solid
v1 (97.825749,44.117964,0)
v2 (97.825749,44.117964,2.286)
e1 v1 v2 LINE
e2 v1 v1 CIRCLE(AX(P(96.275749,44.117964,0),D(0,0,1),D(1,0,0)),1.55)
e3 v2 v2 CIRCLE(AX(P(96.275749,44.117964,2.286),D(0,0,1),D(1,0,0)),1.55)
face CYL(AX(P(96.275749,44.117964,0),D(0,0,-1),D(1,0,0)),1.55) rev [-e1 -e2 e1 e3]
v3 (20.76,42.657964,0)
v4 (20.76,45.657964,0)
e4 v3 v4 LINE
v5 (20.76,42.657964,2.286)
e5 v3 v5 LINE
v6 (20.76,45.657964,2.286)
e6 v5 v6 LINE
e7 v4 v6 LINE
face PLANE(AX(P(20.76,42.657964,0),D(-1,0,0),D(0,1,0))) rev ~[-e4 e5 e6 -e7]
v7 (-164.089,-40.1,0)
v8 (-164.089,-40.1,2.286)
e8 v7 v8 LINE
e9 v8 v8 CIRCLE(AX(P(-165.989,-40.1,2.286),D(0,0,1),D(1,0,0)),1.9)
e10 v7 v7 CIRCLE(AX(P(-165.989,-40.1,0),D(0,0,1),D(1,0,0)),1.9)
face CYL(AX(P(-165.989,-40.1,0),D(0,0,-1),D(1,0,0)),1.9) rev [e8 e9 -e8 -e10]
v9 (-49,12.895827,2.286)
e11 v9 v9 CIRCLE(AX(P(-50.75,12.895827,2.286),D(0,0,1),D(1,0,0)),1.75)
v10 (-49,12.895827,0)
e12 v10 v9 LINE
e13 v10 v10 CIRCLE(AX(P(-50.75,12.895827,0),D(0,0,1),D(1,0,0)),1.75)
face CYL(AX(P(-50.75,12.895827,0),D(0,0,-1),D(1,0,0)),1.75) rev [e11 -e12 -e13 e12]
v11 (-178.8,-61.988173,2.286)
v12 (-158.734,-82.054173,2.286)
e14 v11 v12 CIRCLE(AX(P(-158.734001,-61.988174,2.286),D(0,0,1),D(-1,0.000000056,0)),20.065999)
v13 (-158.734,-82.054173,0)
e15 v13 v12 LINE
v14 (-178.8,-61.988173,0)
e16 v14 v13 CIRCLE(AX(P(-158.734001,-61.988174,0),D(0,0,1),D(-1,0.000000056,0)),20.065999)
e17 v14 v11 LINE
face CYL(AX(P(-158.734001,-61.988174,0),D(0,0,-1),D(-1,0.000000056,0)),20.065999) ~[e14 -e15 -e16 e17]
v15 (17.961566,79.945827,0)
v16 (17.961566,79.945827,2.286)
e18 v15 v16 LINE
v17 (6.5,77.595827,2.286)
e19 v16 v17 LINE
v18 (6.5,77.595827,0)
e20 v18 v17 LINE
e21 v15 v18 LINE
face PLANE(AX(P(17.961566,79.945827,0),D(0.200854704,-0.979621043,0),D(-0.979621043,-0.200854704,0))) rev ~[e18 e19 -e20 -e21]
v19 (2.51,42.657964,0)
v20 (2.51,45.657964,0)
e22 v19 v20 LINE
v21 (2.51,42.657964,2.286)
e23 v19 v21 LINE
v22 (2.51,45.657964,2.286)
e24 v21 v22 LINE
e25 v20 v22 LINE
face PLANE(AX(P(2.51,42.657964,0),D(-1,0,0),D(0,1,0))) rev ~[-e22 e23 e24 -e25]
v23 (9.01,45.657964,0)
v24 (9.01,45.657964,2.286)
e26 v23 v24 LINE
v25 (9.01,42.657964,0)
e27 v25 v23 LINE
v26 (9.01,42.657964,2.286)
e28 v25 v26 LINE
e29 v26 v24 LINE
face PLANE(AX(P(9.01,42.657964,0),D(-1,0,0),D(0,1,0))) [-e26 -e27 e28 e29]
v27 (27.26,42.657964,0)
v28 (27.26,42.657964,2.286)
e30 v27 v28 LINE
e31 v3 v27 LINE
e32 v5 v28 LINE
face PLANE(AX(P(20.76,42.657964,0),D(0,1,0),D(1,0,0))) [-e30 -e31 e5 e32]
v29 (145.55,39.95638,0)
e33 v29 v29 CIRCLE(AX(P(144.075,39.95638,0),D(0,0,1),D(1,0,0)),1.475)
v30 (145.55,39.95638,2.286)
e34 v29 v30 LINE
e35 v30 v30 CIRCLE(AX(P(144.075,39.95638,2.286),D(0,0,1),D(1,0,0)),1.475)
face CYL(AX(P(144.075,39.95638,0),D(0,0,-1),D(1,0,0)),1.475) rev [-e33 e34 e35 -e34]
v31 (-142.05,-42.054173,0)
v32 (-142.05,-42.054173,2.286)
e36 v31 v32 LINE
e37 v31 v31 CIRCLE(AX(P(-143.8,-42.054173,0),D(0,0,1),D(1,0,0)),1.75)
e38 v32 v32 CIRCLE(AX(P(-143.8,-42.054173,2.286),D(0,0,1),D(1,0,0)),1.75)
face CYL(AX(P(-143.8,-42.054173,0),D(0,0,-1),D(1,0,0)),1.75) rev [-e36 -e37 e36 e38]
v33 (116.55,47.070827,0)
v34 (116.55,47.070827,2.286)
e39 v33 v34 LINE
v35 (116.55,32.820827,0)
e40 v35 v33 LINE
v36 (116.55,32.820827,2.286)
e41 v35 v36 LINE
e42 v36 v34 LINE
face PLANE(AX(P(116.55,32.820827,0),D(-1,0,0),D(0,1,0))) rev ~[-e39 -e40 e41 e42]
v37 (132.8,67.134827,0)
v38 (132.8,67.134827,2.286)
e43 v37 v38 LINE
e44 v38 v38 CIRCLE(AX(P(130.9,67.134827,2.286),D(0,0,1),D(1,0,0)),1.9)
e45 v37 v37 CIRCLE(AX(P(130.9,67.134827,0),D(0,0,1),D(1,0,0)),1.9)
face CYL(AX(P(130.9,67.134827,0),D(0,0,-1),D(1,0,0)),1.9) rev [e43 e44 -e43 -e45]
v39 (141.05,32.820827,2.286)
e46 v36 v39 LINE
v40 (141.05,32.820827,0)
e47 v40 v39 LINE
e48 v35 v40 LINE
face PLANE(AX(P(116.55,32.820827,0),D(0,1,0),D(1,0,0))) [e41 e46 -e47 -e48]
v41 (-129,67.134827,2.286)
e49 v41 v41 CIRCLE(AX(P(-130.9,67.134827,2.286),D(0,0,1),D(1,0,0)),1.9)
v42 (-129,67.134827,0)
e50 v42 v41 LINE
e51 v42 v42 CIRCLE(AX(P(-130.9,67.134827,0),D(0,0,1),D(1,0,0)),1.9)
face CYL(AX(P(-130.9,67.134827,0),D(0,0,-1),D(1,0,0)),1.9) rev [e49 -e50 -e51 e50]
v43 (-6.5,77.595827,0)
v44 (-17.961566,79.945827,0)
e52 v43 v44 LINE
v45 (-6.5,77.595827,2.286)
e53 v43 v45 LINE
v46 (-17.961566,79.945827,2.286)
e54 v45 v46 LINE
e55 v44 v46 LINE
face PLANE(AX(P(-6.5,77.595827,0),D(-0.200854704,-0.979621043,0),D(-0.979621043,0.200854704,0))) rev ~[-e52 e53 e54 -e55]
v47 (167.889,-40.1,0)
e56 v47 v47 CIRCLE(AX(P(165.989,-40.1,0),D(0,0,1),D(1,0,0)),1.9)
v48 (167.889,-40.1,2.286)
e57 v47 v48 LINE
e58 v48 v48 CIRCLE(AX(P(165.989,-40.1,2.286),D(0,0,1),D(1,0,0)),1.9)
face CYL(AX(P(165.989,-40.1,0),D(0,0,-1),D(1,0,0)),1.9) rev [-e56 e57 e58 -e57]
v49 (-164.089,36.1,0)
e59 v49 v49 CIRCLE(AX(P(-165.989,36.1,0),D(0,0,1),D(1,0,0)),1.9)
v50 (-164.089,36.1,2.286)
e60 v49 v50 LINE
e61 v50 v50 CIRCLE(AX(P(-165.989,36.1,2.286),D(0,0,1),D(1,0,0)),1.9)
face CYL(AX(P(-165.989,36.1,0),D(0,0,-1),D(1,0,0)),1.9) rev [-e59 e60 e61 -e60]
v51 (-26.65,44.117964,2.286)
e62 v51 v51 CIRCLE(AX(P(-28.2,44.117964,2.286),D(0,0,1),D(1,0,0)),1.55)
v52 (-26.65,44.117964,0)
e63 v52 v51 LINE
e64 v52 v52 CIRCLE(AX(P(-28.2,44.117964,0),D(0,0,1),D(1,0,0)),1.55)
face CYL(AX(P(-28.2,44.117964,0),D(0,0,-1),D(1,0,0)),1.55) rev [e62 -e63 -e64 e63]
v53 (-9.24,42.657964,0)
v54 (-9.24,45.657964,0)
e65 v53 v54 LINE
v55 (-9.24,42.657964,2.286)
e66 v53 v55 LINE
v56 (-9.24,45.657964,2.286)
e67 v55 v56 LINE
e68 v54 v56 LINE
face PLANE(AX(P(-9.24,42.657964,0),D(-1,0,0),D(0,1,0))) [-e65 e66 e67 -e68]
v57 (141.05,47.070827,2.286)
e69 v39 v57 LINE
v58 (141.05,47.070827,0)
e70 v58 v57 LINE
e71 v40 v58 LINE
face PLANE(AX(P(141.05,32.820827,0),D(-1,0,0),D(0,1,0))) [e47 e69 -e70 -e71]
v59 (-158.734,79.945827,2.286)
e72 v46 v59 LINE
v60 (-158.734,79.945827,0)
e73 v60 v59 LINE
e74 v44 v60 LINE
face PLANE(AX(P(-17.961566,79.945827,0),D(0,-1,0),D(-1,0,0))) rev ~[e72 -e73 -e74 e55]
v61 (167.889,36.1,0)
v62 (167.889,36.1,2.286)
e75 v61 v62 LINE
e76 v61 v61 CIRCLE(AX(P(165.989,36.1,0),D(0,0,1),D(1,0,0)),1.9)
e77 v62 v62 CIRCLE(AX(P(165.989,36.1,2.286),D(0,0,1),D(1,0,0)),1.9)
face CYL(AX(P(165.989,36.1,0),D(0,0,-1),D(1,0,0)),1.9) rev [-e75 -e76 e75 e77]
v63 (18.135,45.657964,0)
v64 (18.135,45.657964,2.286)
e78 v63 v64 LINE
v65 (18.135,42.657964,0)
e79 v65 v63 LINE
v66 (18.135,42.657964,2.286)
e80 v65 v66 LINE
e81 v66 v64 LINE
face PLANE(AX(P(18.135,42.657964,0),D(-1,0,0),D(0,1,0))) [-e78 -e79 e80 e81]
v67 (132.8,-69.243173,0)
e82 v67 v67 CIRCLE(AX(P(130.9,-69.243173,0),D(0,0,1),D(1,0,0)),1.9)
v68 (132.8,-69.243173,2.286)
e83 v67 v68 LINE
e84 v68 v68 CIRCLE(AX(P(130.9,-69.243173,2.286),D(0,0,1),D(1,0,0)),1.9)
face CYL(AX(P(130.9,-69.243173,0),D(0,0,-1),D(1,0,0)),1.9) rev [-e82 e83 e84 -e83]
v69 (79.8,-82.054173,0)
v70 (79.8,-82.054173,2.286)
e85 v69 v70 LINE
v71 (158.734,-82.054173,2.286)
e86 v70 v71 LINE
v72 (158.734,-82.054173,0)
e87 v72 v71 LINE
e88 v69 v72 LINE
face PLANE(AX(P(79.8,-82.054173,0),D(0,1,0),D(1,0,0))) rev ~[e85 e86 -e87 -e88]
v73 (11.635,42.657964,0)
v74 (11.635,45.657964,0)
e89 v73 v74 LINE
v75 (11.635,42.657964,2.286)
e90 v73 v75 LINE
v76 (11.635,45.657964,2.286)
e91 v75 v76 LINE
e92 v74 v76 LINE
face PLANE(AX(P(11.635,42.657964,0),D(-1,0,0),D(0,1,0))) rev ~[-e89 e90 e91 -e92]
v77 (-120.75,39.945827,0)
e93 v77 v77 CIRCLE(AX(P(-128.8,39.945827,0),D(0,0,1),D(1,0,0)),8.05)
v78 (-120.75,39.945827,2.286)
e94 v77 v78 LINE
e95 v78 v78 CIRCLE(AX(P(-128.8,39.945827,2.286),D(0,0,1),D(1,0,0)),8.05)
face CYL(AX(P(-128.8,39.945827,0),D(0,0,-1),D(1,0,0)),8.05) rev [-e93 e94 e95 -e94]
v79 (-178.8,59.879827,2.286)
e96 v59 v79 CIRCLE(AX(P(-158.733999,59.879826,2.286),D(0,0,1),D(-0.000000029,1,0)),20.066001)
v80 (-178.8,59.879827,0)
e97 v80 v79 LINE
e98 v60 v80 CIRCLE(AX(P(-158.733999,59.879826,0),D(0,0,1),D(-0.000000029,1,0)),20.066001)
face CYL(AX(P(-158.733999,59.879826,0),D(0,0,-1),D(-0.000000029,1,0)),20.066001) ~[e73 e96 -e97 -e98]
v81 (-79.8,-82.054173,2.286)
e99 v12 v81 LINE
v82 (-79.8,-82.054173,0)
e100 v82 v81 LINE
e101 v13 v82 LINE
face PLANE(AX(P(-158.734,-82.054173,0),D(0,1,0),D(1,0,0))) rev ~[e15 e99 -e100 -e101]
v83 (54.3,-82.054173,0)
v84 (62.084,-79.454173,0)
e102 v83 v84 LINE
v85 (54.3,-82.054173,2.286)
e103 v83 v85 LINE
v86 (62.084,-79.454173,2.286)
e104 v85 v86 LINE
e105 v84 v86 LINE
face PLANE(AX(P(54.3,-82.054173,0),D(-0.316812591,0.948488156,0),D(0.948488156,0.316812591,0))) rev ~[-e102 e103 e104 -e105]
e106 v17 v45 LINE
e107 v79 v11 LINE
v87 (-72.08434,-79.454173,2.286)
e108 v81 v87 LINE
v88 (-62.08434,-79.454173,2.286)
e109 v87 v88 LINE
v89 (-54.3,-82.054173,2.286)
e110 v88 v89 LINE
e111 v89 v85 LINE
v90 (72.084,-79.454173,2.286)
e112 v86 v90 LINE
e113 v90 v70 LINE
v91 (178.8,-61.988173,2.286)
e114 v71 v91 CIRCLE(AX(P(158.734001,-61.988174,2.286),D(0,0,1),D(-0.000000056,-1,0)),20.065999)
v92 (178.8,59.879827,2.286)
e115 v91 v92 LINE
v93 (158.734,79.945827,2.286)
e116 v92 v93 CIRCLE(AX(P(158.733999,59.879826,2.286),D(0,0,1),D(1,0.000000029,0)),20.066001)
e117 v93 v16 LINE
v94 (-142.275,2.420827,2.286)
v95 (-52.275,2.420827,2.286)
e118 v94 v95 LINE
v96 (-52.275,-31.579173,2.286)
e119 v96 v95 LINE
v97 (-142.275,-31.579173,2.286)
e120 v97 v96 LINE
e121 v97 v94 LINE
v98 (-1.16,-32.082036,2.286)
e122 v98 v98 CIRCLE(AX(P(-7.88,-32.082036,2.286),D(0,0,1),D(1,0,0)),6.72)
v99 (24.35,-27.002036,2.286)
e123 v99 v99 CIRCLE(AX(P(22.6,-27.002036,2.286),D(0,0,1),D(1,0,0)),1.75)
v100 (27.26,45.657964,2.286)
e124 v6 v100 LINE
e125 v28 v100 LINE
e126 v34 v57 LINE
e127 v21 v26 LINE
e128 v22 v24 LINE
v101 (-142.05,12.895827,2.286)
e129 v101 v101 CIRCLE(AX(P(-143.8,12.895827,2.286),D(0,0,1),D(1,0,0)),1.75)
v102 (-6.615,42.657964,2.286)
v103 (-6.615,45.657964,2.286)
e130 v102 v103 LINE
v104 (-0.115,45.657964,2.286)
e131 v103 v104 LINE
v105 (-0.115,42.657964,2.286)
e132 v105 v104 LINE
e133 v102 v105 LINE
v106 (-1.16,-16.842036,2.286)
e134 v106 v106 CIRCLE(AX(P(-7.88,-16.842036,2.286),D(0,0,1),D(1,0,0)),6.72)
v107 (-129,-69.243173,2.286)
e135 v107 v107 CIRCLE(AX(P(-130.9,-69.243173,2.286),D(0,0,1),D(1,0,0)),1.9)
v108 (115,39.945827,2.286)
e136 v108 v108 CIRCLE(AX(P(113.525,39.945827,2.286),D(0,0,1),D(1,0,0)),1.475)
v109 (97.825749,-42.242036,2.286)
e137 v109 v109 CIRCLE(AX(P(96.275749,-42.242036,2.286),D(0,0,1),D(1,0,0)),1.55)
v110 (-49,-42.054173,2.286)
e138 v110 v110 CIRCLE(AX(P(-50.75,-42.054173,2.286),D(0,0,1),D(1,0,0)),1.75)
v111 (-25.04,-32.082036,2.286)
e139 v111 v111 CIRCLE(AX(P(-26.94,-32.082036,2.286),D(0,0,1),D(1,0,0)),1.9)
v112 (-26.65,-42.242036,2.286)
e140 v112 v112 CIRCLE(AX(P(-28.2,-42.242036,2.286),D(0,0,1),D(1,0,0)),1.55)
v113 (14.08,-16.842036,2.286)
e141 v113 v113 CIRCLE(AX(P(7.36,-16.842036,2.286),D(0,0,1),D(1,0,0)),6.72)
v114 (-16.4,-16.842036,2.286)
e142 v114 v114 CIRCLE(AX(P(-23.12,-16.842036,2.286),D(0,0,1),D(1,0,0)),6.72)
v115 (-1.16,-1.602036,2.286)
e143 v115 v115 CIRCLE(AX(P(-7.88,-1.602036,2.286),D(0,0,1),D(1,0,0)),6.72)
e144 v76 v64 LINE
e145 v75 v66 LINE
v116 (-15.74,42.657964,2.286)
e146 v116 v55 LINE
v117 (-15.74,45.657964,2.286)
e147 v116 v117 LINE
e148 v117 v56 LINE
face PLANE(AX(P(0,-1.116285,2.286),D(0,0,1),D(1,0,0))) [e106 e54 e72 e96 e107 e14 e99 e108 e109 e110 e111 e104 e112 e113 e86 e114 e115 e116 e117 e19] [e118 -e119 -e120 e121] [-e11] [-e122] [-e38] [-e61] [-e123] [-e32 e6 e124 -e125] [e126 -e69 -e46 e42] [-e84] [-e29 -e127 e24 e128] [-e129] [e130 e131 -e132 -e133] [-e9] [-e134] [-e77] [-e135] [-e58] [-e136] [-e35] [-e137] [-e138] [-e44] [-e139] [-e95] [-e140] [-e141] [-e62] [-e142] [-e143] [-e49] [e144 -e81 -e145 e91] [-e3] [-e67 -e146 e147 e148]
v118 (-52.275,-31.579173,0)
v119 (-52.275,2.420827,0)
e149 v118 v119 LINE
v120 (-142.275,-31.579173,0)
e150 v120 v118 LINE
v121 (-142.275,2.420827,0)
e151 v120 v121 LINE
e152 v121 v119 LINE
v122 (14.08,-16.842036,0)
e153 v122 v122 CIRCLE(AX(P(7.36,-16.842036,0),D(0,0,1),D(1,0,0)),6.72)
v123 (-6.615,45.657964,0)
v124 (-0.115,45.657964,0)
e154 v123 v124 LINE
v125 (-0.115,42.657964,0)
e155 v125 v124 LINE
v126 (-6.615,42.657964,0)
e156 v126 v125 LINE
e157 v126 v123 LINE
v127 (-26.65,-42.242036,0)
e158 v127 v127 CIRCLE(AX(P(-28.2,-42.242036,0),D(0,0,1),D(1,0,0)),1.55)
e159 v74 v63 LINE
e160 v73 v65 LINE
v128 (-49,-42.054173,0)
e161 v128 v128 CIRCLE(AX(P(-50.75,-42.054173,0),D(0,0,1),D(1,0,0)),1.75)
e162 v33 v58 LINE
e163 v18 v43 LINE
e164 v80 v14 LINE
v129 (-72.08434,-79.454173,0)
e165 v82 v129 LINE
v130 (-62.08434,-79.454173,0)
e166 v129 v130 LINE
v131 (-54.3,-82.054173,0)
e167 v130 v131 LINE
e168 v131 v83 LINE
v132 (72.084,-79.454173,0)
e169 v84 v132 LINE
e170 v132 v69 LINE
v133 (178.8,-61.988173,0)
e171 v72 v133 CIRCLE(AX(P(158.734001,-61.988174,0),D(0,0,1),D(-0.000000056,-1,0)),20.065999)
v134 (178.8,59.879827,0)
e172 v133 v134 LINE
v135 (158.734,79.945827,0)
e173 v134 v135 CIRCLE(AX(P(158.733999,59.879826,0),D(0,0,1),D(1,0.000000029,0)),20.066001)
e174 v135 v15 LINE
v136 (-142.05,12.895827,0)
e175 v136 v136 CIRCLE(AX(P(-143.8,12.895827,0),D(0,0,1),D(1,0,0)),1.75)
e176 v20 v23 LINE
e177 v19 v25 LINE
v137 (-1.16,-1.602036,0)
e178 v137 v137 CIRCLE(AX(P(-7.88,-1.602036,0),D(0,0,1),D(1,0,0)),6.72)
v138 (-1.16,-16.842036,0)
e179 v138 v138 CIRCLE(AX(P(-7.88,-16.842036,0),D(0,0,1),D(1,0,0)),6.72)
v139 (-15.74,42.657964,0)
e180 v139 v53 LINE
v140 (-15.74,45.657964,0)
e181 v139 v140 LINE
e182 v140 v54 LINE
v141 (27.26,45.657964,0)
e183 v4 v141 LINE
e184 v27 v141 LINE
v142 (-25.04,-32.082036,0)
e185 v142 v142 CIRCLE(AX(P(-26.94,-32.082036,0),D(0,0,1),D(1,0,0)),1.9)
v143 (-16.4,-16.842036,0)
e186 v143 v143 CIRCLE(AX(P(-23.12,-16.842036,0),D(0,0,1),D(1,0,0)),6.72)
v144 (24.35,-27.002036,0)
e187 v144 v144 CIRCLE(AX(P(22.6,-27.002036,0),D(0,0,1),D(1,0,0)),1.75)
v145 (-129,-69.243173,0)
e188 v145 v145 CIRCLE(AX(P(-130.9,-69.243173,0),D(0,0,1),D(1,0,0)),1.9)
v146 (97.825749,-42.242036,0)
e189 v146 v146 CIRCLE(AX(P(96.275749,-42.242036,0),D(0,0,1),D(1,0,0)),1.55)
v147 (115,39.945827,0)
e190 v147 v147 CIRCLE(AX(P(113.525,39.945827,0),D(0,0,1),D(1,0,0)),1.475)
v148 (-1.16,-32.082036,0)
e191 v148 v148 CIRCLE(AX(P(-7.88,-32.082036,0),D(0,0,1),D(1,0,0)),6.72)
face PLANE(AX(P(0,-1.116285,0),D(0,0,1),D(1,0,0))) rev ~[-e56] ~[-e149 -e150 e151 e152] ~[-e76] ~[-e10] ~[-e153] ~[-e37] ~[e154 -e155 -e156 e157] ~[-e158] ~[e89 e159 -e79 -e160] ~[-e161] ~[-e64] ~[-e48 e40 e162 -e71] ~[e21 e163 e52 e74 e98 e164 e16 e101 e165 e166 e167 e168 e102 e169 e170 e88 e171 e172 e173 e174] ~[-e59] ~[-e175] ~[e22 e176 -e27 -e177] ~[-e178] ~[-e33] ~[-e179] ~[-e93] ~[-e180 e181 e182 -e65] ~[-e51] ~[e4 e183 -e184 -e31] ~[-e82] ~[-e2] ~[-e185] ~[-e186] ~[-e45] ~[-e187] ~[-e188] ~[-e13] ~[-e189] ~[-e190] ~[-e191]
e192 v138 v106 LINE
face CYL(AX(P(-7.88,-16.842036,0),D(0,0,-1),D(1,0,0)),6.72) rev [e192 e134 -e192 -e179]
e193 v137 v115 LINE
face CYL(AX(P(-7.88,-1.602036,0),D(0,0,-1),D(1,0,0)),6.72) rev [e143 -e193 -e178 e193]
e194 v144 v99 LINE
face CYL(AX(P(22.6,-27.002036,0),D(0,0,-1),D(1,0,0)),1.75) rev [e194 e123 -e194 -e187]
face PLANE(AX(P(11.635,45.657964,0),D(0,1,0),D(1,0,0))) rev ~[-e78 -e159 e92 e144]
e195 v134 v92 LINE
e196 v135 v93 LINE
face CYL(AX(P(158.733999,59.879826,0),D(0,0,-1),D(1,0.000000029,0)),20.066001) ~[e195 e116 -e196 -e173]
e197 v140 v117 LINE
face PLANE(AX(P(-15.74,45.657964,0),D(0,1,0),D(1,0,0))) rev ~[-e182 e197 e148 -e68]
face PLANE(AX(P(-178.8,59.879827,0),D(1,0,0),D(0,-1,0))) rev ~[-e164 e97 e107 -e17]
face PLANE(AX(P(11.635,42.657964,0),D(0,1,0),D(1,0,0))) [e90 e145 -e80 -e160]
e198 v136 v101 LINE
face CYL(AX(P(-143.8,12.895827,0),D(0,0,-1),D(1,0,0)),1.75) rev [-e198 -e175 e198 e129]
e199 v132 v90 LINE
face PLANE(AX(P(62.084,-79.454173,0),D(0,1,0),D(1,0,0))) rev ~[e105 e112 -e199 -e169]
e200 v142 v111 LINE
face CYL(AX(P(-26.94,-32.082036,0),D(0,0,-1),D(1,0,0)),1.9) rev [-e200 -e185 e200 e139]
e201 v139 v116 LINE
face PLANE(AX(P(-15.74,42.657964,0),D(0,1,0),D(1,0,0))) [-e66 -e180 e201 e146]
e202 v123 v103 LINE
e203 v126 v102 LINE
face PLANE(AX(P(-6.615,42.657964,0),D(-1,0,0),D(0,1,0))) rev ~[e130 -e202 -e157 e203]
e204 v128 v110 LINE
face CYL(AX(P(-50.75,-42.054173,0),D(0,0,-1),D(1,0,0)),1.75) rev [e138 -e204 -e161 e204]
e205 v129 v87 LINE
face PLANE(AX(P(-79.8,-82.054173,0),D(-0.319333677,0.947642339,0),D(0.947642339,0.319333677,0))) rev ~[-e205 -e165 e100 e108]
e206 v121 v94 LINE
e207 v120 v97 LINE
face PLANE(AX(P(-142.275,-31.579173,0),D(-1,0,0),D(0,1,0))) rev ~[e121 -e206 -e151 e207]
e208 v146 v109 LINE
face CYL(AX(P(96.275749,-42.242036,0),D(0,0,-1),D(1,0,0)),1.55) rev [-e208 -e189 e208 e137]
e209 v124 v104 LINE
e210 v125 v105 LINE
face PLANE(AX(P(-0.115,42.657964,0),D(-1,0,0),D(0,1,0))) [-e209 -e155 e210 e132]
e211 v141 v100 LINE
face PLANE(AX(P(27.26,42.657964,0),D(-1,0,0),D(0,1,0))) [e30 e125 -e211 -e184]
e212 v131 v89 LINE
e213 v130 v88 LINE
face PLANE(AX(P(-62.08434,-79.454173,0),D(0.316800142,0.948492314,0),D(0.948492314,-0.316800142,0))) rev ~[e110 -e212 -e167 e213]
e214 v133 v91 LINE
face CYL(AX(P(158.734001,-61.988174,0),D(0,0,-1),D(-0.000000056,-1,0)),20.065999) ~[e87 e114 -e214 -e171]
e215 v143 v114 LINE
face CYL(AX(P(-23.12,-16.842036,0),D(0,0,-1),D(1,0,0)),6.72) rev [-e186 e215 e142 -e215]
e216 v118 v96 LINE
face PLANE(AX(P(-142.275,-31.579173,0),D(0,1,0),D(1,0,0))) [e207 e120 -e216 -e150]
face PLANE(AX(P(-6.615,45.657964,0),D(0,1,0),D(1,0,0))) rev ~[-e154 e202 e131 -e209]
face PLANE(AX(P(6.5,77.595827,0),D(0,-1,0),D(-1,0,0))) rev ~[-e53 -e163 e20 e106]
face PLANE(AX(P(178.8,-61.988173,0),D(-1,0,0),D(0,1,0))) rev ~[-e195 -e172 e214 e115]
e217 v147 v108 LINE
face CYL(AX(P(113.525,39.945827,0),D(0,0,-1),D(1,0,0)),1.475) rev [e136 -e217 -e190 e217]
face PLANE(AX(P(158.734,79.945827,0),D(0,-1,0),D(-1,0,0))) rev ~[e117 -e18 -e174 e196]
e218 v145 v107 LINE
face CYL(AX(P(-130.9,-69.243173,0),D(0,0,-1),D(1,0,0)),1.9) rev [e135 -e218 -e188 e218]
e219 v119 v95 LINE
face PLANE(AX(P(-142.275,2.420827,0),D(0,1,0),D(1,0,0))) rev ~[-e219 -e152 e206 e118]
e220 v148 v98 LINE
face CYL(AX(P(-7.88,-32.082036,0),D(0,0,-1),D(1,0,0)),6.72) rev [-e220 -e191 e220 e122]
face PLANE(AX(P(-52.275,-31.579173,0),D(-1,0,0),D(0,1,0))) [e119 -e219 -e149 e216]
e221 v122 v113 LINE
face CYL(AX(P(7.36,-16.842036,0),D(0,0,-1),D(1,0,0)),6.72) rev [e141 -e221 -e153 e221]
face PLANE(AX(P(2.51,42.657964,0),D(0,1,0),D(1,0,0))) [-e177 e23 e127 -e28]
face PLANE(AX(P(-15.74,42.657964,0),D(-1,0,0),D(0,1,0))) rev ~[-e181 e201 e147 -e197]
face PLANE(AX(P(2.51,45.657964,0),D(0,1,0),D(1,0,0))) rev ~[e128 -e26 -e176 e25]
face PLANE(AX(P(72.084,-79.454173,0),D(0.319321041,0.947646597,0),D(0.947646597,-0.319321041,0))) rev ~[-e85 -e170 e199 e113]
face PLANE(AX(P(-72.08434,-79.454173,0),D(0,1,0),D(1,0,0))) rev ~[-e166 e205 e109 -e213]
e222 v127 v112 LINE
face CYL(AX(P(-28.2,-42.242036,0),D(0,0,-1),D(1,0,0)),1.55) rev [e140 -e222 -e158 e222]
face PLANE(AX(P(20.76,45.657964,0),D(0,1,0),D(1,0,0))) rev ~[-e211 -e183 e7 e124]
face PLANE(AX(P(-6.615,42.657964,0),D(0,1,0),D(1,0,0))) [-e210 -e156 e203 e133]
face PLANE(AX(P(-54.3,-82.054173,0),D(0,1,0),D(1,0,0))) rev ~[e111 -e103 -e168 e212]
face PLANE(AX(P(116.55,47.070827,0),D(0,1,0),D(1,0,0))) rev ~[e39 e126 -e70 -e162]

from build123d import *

# Parameters (mm, degrees)
F0_R     = 1.9
F0_R_2   = 8.05
F0_R_3   = 1.475
F0_W     = 24.5
F0_H     = 14.25
F3_DEPTH = 2.286
F2_R     = 1.75
F2_W     = 90
F2_H     = 34
F4_DEPTH = 2.286
F1_R     = 1.55
F1_R_2   = 1.9
F1_R_3   = 1.75
F1_R_4   = 6.72
F1_W     = 6.5
F1_H     = 3
F5_DEPTH = 2.286


with BuildPart() as f3:
    # F0 (on Top) → F3 (new body)
    with BuildSketch(Plane.XY):
        with BuildLine():
            Line((-17.961566, 79.945827), (-158.734, 79.945827))
            ThreePointArc((-158.734, 79.945827), (-172.922805, 74.068631), (-178.8, 59.879827))
            Line((-178.8, 59.879827), (-178.8, -61.988173))
            ThreePointArc((-178.8, -61.988173), (-172.922805, -76.176978), (-158.734, -82.054173))
            Line((-158.734, -82.054173), (-79.8, -82.054173))
            Line((-79.8, -82.054173), (-72.08434, -79.454173))
            Line((-72.08434, -79.454173), (-62.08434, -79.454173))
            Line((-62.08434, -79.454173), (-54.3, -82.054173))
            Line((-54.3, -82.054173), (54.3, -82.054173))
            Line((54.3, -82.054173), (62.084, -79.454173))
            Line((62.084, -79.454173), (72.084, -79.454173))
            Line((72.084, -79.454173), (79.8, -82.054173))
            Line((79.8, -82.054173), (158.734, -82.054173))
            ThreePointArc((158.734, -82.054173), (172.922805, -76.176978), (178.8, -61.988173))
            Line((178.8, -61.988173), (178.8, 59.879827))
            ThreePointArc((178.8, 59.879827), (172.922805, 74.068631), (158.734, 79.945827))
            Line((158.734, 79.945827), (17.961566, 79.945827))
            Line((17.961566, 79.945827), (6.5, 77.595827))
            Line((6.5, 77.595827), (-6.5, 77.595827))
            Line((-6.5, 77.595827), (-17.961566, 79.945827))
        make_face()
        with Locations((-130.9, -69.243173)):
            Circle(F0_R, mode=Mode.SUBTRACT)
        with Locations((-165.989, -40.1)):
            Circle(F0_R, mode=Mode.SUBTRACT)
        with Locations((130.9, -69.243173)):
            Circle(F0_R, mode=Mode.SUBTRACT)
        with Locations((165.989, -40.1)):
            Circle(F0_R, mode=Mode.SUBTRACT)
        with Locations((-165.989, 36.1)):
            Circle(F0_R, mode=Mode.SUBTRACT)
        with Locations((-128.8, 39.945827)):
            Circle(F0_R_2, mode=Mode.SUBTRACT)
        with Locations((-130.9, 67.134827)):
            Circle(F0_R, mode=Mode.SUBTRACT)
        with Locations((165.989, 36.1)):
            Circle(F0_R, mode=Mode.SUBTRACT)
        with Locations((113.525, 39.945827)):
            Circle(F0_R_3, mode=Mode.SUBTRACT)
        with Locations((128.8, 39.945827)):
            Rectangle(F0_W, F0_H, mode=Mode.SUBTRACT)
        with Locations((144.075, 39.95638)):
            Circle(F0_R_3, mode=Mode.SUBTRACT)
        with Locations((130.9, 67.134827)):
            Circle(F0_R, mode=Mode.SUBTRACT)
    extrude(amount=F3_DEPTH)

    # F2 (on face) → F4 (cut)
    with BuildSketch(Plane.XY):
        with Locations((-143.8, 12.895827)):
            Circle(F2_R)
        with Locations((-143.8, -42.054173)):
            Circle(F2_R)
        with Locations((-50.75, 12.895827)):
            Circle(F2_R)
        with Locations((-50.75, -42.054173)):
            Circle(F2_R)
        with Locations((-97.275, -14.579173)):
            Rectangle(F2_W, F2_H)
    extrude(amount=F4_DEPTH, mode=Mode.SUBTRACT)

    # F1 (on face) → F5 (cut)
    with BuildSketch(Plane.XY):
        with Locations((96.275749, -42.242036)):
            Circle(F1_R)
        with Locations((96.275749, 44.117964)):
            Circle(F1_R)
        with Locations((-28.2, 44.117964)):
            Circle(F1_R)
        with Locations((-28.2, -42.242036)):
            Circle(F1_R)
        with Locations((-26.94, -32.082036)):
            Circle(F1_R_2)
        with Locations((22.6, -27.002036)):
            Circle(F1_R_3)
        with Locations((-23.12, -16.842036)):
            Circle(F1_R_4)
        with Locations((-7.88, -16.842036)):
            Circle(F1_R_4)
        with Locations((-7.88, -1.602036)):
            Circle(F1_R_4)
        with Locations((7.36, -16.842036)):
            Circle(F1_R_4)
        with Locations((-7.88, -32.082036)):
            Circle(F1_R_4)
        with Locations((-12.49, 44.157964)):
            Rectangle(F1_W, F1_H)
        with Locations((-3.365, 44.157964)):
            Rectangle(F1_W, F1_H)
        with Locations((5.76, 44.157964)):
            Rectangle(F1_W, F1_H)
        with Locations((14.885, 44.157964)):
            Rectangle(F1_W, F1_H)
        with Locations((24.01, 44.157964)):
            Rectangle(F1_W, F1_H)
    extrude(amount=F5_DEPTH, mode=Mode.SUBTRACT)


solid = f3.part
